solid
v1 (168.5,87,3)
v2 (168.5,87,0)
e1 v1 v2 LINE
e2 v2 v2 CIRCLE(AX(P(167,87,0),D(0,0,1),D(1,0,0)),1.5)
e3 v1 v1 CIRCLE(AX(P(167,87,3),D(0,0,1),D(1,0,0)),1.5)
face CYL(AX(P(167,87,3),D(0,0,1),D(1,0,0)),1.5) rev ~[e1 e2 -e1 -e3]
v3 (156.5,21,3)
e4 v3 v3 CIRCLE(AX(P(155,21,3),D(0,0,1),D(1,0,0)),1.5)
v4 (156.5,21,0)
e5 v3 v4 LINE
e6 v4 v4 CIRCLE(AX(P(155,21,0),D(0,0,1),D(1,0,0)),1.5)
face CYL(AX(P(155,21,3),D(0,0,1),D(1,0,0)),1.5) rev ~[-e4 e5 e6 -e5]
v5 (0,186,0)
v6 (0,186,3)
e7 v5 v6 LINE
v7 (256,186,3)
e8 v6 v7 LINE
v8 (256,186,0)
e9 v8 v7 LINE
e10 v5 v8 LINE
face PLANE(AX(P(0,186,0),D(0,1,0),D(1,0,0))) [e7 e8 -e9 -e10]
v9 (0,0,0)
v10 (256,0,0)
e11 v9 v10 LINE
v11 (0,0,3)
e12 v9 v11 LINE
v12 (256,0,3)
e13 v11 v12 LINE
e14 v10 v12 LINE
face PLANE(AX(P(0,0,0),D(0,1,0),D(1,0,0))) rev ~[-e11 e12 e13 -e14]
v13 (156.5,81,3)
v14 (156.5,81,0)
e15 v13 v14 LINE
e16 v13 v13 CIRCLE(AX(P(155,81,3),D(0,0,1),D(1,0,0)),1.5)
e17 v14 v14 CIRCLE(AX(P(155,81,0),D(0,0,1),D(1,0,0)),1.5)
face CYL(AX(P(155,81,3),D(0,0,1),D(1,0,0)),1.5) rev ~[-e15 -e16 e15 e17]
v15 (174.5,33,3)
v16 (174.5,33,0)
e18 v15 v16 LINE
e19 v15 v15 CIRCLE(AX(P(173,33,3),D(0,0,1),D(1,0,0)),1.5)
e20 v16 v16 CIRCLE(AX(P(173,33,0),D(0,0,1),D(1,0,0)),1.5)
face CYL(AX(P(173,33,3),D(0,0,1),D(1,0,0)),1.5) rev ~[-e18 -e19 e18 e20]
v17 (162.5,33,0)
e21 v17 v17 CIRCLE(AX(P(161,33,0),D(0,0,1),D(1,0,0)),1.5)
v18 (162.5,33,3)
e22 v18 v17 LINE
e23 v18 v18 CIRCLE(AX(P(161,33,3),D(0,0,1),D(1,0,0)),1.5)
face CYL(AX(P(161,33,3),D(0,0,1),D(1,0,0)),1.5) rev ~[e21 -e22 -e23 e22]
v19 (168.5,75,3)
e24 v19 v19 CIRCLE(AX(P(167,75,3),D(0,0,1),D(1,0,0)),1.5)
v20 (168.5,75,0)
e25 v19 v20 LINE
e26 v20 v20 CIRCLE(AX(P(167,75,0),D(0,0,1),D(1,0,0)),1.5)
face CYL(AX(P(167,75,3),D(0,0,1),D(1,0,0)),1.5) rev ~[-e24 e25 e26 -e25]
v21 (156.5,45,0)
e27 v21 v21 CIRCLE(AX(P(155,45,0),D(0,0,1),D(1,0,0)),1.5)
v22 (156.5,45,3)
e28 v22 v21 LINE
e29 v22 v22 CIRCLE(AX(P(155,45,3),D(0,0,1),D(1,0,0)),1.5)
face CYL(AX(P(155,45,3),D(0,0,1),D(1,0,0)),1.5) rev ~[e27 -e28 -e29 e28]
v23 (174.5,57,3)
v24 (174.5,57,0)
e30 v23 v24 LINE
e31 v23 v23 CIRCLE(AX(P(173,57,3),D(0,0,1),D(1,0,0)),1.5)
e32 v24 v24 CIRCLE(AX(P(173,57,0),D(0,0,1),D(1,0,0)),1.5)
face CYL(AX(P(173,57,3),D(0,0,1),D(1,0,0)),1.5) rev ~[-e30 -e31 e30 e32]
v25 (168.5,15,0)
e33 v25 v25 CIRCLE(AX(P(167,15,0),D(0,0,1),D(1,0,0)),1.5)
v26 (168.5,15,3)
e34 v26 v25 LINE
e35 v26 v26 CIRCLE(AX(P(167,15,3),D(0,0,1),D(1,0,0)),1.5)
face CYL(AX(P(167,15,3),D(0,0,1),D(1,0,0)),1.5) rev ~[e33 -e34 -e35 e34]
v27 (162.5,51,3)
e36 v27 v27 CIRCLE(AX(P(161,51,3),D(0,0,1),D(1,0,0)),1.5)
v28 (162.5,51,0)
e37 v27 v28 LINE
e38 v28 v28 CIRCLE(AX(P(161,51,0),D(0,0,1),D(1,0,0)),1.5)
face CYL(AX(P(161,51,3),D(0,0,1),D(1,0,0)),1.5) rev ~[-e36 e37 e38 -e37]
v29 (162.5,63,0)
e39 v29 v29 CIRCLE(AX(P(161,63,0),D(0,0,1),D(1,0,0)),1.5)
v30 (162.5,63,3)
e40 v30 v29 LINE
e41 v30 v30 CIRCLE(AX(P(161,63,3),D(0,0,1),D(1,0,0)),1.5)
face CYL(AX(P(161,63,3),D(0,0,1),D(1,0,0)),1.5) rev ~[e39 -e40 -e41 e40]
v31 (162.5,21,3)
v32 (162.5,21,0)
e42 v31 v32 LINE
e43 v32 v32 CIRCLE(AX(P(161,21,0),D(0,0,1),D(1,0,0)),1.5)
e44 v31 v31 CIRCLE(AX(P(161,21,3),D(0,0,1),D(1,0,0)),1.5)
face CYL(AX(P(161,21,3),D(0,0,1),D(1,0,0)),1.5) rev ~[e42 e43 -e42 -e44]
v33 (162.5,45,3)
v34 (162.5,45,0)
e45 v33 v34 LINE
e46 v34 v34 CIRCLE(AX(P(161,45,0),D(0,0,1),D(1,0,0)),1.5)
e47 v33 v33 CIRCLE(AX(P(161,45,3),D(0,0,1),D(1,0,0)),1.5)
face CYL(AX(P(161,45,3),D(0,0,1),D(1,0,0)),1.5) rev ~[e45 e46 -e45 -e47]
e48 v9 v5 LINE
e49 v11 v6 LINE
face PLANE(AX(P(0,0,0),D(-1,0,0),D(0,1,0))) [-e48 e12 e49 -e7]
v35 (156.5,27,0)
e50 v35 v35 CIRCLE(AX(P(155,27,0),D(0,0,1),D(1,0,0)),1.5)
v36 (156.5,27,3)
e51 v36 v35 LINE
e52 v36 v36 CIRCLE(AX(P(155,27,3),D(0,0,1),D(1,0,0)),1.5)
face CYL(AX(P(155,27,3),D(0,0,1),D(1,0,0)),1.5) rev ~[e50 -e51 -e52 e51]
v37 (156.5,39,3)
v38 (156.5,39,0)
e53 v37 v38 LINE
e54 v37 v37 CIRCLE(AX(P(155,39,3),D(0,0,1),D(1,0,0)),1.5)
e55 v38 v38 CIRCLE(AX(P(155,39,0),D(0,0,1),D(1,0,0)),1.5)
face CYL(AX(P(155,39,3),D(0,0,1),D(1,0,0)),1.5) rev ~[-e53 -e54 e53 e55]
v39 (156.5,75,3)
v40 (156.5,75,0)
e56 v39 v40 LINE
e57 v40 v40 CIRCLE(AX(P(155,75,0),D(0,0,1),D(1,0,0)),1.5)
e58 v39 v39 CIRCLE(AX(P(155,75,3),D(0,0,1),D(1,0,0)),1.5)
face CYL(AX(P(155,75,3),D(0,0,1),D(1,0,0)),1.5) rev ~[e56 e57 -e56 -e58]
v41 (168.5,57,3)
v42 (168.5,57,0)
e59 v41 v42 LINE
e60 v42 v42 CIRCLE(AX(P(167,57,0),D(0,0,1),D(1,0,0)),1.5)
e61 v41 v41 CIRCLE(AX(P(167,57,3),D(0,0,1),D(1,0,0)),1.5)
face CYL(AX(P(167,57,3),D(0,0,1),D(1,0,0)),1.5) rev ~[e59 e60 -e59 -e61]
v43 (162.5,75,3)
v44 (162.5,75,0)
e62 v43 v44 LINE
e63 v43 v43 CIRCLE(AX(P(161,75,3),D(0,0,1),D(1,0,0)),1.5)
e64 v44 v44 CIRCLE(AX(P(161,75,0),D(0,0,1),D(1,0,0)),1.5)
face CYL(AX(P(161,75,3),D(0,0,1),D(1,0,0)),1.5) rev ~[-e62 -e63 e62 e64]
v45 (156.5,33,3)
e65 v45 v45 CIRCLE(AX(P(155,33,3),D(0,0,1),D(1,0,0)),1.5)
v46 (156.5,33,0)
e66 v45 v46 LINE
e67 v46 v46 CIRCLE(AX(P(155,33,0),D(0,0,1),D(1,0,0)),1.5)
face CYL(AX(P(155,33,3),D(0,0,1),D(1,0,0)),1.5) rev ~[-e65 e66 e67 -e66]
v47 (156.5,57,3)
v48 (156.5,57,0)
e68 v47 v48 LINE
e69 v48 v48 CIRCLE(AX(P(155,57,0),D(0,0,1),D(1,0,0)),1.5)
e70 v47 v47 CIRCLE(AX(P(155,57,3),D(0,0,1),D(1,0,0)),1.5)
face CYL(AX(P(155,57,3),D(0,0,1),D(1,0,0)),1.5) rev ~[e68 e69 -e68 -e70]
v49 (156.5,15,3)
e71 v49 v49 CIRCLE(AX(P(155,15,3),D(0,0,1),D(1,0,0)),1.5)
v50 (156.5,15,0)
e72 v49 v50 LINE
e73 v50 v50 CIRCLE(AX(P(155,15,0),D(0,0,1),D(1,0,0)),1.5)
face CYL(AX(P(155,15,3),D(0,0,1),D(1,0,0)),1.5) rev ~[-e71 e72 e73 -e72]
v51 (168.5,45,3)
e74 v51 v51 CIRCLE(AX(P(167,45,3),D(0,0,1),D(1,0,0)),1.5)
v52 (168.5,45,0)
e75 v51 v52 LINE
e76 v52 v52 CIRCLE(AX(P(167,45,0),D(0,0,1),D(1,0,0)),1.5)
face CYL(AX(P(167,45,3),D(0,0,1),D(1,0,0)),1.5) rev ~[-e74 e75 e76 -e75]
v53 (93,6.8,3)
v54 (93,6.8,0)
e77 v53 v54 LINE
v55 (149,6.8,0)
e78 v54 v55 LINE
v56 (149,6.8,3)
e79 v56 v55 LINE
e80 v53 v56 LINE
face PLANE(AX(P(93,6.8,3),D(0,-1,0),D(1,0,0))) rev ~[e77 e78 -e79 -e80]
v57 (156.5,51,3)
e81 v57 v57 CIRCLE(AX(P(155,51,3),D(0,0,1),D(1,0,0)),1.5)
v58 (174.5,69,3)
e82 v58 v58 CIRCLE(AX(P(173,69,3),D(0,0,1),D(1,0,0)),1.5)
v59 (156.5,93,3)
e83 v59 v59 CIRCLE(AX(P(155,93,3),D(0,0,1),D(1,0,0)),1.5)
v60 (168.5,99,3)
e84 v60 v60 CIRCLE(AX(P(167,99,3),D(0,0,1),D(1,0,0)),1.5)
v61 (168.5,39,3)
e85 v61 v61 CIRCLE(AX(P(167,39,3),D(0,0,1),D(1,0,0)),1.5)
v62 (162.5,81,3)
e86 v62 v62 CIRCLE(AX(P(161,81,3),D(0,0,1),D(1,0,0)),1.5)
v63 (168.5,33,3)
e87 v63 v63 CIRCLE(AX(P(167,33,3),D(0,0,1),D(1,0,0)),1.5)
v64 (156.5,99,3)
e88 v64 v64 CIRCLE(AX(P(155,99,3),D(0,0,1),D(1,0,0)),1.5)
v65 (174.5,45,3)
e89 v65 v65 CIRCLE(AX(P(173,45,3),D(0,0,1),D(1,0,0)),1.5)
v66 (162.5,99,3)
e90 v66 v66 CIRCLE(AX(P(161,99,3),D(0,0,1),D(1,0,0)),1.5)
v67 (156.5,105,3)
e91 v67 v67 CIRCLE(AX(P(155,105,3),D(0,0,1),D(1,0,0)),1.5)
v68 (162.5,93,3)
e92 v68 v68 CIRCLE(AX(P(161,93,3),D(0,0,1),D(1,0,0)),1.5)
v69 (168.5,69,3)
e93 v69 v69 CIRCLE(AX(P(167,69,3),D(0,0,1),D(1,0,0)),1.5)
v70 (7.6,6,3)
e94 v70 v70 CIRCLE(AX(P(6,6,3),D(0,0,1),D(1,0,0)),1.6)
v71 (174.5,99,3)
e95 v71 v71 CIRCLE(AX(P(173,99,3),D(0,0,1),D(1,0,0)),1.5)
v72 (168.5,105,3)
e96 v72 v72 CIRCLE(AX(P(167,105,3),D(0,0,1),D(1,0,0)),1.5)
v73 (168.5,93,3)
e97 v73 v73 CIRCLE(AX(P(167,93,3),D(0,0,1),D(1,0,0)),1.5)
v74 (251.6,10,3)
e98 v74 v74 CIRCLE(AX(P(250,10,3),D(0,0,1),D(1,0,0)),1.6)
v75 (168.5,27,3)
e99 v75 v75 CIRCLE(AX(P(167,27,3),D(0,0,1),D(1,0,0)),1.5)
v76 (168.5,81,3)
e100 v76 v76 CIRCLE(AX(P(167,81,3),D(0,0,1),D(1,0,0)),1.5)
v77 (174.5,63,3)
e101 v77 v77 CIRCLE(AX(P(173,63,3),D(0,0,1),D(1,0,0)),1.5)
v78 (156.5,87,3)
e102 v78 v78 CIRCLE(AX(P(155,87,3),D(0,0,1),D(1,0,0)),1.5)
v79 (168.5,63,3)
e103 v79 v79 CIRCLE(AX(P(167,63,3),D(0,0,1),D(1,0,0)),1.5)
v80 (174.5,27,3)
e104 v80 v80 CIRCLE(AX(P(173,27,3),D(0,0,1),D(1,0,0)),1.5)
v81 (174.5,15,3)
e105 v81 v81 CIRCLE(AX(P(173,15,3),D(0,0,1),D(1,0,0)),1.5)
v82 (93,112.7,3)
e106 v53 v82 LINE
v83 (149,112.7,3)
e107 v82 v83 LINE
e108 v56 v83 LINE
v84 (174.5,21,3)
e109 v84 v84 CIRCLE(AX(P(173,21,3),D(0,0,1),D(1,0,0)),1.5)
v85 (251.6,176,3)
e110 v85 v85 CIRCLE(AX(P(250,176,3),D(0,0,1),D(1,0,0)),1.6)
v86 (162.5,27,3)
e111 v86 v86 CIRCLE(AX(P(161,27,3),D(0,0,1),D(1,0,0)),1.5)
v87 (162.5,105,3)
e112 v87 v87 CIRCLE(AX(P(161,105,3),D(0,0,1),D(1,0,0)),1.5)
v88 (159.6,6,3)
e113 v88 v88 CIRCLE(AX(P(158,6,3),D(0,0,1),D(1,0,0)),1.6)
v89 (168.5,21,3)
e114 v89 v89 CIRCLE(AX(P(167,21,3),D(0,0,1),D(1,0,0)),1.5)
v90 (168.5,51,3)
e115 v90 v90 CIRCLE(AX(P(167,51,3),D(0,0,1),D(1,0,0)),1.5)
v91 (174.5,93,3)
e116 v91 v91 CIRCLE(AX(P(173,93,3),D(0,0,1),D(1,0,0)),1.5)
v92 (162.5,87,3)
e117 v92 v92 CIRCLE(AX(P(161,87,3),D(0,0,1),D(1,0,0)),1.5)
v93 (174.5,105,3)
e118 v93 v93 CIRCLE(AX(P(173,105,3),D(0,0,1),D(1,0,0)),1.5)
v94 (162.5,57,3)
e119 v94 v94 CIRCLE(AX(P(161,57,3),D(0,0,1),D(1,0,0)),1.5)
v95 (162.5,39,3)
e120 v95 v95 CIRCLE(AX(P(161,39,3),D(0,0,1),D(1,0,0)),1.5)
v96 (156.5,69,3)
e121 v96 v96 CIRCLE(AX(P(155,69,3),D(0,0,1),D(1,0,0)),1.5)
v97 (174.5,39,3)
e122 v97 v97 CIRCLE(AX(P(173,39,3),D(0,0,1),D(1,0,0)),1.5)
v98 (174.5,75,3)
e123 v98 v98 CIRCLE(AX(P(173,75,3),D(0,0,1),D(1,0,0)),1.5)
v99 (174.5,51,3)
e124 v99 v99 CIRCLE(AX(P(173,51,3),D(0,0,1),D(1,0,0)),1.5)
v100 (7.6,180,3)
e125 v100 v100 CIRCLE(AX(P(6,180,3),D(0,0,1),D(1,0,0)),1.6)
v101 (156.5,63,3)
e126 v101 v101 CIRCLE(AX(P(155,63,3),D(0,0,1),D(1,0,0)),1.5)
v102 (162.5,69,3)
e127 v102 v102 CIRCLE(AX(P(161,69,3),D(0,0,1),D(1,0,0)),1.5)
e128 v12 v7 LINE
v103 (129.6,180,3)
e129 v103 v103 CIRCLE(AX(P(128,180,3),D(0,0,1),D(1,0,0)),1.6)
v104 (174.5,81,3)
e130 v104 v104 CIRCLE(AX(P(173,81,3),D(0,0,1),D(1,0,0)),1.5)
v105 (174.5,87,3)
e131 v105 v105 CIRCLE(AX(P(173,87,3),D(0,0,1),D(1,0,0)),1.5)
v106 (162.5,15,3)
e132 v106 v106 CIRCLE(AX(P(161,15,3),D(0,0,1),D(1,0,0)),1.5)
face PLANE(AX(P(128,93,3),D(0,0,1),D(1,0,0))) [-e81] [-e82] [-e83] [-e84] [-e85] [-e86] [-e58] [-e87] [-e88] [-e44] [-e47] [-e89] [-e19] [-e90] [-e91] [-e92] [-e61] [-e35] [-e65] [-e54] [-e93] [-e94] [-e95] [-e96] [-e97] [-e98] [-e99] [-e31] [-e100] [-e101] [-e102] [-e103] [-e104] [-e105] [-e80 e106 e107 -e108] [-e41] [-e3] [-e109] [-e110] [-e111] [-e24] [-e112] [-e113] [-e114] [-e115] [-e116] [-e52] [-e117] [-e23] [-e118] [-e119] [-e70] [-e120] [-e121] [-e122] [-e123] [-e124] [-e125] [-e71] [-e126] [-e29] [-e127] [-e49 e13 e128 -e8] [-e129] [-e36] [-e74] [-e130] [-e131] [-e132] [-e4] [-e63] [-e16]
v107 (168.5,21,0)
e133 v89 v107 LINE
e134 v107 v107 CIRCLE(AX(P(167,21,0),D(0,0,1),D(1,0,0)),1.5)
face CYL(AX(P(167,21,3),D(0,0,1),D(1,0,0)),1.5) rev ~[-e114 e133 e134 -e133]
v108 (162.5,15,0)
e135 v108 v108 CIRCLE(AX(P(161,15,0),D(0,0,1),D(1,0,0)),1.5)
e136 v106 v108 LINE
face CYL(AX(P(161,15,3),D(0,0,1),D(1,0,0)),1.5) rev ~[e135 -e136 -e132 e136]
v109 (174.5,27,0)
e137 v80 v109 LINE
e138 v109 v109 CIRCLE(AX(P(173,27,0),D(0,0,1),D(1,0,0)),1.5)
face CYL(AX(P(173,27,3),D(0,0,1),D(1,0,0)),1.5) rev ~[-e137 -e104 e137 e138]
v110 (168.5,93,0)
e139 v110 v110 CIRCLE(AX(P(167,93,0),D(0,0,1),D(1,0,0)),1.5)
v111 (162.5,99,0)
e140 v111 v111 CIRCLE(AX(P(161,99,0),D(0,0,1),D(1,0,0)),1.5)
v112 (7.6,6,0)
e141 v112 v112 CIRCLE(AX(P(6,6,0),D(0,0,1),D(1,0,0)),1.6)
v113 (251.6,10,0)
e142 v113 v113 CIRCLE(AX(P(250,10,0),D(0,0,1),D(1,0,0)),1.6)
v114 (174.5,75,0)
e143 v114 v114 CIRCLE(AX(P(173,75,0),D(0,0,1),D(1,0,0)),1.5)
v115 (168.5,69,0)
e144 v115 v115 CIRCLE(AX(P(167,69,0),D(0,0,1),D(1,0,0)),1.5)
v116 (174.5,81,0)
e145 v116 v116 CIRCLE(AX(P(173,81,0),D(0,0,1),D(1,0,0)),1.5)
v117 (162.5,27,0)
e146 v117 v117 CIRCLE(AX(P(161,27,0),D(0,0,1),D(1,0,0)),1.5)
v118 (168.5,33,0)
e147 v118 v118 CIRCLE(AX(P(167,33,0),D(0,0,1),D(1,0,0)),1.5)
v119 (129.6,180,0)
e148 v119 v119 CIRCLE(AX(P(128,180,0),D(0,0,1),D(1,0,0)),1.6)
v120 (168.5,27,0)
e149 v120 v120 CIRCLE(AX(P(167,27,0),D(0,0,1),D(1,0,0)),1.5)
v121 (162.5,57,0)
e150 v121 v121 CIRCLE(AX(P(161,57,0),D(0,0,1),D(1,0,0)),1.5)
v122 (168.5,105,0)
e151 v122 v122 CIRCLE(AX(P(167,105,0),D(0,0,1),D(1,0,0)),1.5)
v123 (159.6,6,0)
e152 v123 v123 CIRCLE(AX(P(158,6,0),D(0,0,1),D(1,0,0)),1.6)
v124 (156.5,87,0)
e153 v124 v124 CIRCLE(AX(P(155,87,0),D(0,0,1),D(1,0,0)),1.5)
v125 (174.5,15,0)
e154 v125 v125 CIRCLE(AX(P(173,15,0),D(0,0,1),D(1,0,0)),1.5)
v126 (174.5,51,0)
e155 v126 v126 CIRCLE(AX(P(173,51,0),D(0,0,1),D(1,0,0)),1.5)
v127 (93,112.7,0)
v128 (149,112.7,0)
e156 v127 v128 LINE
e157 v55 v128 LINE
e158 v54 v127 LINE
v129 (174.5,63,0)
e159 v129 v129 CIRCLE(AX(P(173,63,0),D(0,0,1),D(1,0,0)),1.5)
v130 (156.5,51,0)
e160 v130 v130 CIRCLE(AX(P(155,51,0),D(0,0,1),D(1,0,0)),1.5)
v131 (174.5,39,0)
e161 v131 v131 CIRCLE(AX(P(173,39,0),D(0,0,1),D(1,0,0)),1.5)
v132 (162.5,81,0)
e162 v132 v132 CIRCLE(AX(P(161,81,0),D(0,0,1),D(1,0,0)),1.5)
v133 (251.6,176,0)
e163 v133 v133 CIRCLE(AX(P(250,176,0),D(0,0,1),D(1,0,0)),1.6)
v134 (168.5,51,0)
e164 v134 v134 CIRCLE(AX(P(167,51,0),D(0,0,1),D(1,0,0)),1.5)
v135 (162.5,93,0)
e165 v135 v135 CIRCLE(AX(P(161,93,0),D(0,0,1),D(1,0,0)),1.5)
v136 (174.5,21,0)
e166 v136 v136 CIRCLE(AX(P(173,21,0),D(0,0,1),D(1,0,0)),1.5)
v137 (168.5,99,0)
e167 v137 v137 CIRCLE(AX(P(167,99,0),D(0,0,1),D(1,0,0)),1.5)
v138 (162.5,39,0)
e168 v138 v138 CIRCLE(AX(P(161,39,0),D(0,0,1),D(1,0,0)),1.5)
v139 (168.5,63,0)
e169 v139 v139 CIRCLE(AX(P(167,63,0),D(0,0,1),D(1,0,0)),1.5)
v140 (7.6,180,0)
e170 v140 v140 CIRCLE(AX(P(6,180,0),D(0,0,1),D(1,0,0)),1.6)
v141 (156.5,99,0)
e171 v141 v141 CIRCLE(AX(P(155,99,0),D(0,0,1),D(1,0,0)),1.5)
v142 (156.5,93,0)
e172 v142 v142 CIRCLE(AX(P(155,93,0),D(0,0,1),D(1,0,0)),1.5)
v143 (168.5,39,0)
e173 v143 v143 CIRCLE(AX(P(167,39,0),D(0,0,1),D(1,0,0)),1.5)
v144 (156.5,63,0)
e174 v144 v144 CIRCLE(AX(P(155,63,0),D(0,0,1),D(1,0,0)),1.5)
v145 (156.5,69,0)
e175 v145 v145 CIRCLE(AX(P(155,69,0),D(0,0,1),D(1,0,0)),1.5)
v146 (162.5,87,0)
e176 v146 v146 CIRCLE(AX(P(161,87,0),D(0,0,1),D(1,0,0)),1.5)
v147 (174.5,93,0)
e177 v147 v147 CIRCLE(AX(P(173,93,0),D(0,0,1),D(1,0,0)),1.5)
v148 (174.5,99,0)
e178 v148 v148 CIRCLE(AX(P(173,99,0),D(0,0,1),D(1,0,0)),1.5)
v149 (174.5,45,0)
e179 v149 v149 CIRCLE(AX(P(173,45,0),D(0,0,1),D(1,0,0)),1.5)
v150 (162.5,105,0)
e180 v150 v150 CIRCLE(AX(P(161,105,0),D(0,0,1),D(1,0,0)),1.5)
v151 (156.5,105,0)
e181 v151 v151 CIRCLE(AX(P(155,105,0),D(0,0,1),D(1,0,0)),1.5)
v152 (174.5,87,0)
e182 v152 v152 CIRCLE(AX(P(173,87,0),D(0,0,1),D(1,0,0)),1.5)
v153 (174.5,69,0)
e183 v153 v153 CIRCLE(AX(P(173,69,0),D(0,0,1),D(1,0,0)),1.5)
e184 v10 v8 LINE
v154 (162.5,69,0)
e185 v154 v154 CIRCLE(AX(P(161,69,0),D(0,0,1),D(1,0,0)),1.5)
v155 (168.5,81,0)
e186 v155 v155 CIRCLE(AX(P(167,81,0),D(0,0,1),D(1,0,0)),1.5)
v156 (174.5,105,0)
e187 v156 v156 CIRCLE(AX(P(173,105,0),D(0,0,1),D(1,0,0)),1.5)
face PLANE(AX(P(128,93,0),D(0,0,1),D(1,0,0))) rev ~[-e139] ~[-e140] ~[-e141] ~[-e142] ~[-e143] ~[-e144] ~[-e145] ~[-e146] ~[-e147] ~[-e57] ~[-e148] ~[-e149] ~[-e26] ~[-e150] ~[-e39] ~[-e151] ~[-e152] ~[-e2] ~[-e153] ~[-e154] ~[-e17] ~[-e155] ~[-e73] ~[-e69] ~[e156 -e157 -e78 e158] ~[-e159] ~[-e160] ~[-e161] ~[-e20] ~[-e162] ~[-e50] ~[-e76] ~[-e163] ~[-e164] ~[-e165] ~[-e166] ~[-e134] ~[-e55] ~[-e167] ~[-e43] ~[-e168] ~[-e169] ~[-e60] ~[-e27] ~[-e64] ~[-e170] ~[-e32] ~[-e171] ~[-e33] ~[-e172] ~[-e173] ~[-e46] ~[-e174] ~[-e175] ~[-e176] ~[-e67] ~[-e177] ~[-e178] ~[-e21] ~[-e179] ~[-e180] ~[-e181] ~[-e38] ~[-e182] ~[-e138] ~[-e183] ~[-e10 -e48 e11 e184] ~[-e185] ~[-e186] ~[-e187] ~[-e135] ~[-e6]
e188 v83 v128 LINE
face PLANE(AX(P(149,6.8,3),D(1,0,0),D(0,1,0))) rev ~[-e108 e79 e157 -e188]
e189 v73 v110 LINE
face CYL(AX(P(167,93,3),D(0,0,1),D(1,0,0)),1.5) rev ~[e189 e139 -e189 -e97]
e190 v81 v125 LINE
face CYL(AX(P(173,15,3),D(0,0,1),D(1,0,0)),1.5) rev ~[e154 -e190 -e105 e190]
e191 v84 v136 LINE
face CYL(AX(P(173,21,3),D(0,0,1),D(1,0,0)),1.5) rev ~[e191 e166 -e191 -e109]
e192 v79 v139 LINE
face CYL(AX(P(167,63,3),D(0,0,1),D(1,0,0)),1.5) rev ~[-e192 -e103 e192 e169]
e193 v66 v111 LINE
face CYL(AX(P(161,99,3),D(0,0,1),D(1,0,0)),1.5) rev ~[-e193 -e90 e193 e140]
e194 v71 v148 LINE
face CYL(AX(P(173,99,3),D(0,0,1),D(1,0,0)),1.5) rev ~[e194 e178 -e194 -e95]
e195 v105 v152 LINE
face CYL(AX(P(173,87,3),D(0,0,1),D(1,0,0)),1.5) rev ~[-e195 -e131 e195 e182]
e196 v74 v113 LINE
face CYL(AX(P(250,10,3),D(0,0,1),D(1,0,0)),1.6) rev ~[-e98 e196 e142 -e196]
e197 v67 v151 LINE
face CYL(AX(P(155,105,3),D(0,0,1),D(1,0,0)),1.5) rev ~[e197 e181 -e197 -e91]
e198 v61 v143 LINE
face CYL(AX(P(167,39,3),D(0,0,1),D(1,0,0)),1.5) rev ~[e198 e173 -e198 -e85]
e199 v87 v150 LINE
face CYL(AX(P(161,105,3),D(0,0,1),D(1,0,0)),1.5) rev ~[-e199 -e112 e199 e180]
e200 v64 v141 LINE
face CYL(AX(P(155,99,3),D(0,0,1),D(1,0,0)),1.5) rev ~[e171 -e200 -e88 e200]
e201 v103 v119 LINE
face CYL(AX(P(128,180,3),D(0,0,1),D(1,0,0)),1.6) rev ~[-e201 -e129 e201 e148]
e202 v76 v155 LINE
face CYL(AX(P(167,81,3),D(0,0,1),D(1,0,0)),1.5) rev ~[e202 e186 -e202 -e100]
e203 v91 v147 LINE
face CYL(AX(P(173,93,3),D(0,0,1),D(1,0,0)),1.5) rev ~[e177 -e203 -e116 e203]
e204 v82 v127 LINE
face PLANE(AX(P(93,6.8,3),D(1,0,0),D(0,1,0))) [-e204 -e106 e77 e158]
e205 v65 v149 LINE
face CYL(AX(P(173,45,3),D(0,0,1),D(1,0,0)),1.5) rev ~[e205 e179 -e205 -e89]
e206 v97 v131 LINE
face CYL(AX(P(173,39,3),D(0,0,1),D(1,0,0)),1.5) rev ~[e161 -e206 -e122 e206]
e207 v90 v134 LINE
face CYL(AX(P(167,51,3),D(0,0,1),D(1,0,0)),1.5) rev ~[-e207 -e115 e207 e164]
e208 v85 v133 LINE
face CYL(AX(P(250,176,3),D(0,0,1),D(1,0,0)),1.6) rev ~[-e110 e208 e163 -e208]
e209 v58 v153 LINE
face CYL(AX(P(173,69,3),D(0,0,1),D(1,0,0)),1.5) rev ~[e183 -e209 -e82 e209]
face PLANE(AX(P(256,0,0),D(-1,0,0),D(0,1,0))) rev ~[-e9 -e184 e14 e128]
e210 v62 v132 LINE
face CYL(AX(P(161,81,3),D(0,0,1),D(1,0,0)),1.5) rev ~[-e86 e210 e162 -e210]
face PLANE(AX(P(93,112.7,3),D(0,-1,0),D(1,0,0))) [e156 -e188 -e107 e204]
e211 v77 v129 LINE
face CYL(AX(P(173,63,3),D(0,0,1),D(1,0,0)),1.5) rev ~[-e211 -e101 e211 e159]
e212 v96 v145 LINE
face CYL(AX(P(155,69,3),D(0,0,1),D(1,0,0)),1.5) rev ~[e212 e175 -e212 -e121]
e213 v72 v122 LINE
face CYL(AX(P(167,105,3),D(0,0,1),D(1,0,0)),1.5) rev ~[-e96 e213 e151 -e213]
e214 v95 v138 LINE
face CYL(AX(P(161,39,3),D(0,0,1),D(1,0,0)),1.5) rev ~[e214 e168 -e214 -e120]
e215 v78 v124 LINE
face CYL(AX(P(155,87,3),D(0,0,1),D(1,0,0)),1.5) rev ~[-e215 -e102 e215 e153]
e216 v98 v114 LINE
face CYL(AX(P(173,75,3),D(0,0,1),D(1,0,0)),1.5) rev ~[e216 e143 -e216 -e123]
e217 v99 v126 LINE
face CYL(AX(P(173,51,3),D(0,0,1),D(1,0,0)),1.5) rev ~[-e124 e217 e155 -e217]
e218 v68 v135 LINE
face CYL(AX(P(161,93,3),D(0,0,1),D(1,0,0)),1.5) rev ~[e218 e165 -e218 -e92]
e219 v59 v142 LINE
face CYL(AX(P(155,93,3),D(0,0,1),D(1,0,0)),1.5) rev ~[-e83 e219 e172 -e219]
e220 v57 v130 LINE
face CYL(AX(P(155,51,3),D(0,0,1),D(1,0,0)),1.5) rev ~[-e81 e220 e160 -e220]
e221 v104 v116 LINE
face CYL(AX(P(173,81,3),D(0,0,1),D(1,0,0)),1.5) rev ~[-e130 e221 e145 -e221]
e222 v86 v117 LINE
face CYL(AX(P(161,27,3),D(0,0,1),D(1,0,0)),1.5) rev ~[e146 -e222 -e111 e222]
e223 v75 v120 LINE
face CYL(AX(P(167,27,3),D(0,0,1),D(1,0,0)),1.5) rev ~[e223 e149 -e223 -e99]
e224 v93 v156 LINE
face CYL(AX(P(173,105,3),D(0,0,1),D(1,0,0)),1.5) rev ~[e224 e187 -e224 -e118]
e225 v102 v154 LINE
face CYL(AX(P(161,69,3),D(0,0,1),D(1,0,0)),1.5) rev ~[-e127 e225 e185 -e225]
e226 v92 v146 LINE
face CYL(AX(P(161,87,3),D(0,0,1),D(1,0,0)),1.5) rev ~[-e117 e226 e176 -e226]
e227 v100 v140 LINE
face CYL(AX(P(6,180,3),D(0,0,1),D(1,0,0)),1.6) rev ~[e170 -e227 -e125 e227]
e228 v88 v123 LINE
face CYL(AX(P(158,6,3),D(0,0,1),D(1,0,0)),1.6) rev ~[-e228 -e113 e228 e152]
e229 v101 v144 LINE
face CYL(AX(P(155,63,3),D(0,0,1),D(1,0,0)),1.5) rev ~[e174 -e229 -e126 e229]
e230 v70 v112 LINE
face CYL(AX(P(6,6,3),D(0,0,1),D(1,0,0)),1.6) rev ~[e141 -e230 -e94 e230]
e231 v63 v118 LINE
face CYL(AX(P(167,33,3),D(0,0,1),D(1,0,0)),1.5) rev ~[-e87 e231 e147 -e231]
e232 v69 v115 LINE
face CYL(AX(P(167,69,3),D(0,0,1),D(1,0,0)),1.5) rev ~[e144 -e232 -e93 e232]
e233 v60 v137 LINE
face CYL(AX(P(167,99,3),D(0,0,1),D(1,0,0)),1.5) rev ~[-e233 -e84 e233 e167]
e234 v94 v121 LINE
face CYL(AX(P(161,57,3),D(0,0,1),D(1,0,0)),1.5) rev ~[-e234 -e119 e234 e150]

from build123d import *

# Parameters (mm, degrees)
SKETCH2_W           = 256
SKETCH2_H           = 186
BOSS_EXTRUDE1_DEPTH = 3
SKETCH3_R           = 1.6
CUT_EXTRUDE1_DEPTH  = 4
SKETCH4_W           = 56
SKETCH4_H           = 105.9
CUT_EXTRUDE2_DEPTH  = 4
SKETCH5_R           = 1.5
CUT_EXTRUDE3_DEPTH  = 4


with BuildPart() as part:
    # Sketch2 → Boss-Extrude1 (new body)
    with BuildSketch(Plane.XY):
        with Locations((128, 93)):
            Rectangle(SKETCH2_W, SKETCH2_H)
    extrude(amount=BOSS_EXTRUDE1_DEPTH)

    # Sketch3 → Cut-Extrude1 (cut, through all)
    with BuildSketch(Plane.XY.offset(3)):
        with Locations((6, 180)):
            Circle(SKETCH3_R)
        with Locations((128, 180)):
            Circle(SKETCH3_R)
        with Locations((6, 6)):
            Circle(SKETCH3_R)
        with Locations((250, 176)):
            Circle(SKETCH3_R)
        with Locations((250, 10)):
            Circle(SKETCH3_R)
        with Locations((158, 6)):
            Circle(SKETCH3_R)
    extrude(amount=-CUT_EXTRUDE1_DEPTH, mode=Mode.SUBTRACT)

    # Sketch4 → Cut-Extrude2 (cut, through all)
    with BuildSketch(Plane.XY.offset(3)):
        with Locations((121, 59.75)):
            Rectangle(SKETCH4_W, SKETCH4_H)
    extrude(amount=-CUT_EXTRUDE2_DEPTH, mode=Mode.SUBTRACT)

    # Sketch5 → Cut-Extrude3 (cut, through all)
    with BuildSketch(Plane.XY.offset(3)):
        with Locations((173, 105)):
            Circle(SKETCH5_R)
        with Locations((167, 105)):
            Circle(SKETCH5_R)
        with Locations((161, 105)):
            Circle(SKETCH5_R)
        with Locations((155, 105)):
            Circle(SKETCH5_R)
        with Locations((167, 99)):
            Circle(SKETCH5_R)
        with Locations((161, 99)):
            Circle(SKETCH5_R)
        with Locations((155, 99)):
            Circle(SKETCH5_R)
        with Locations((167, 93)):
            Circle(SKETCH5_R)
        with Locations((161, 93)):
            Circle(SKETCH5_R)
        with Locations((155, 93)):
            Circle(SKETCH5_R)
        with Locations((167, 87)):
            Circle(SKETCH5_R)
        with Locations((161, 87)):
            Circle(SKETCH5_R)
        with Locations((155, 87)):
            Circle(SKETCH5_R)
        with Locations((167, 81)):
            Circle(SKETCH5_R)
        with Locations((161, 81)):
            Circle(SKETCH5_R)
        with Locations((155, 81)):
            Circle(SKETCH5_R)
        with Locations((167, 75)):
            Circle(SKETCH5_R)
        with Locations((161, 75)):
            Circle(SKETCH5_R)
        with Locations((155, 75)):
            Circle(SKETCH5_R)
        with Locations((167, 69)):
            Circle(SKETCH5_R)
        with Locations((161, 69)):
            Circle(SKETCH5_R)
        with Locations((155, 69)):
            Circle(SKETCH5_R)
        with Locations((167, 63)):
            Circle(SKETCH5_R)
        with Locations((161, 63)):
            Circle(SKETCH5_R)
        with Locations((155, 63)):
            Circle(SKETCH5_R)
        with Locations((167, 57)):
            Circle(SKETCH5_R)
        with Locations((161, 57)):
            Circle(SKETCH5_R)
        with Locations((155, 57)):
            Circle(SKETCH5_R)
        with Locations((167, 51)):
            Circle(SKETCH5_R)
        with Locations((161, 51)):
            Circle(SKETCH5_R)
        with Locations((155, 51)):
            Circle(SKETCH5_R)
        with Locations((167, 45)):
            Circle(SKETCH5_R)
        with Locations((161, 45)):
            Circle(SKETCH5_R)
        with Locations((155, 45)):
            Circle(SKETCH5_R)
        with Locations((167, 39)):
            Circle(SKETCH5_R)
        with Locations((161, 39)):
            Circle(SKETCH5_R)
        with Locations((155, 39)):
            Circle(SKETCH5_R)
        with Locations((167, 33)):
            Circle(SKETCH5_R)
        with Locations((161, 33)):
            Circle(SKETCH5_R)
        with Locations((155, 33)):
            Circle(SKETCH5_R)
        with Locations((167, 27)):
            Circle(SKETCH5_R)
        with Locations((161, 27)):
            Circle(SKETCH5_R)
        with Locations((155, 27)):
            Circle(SKETCH5_R)
        with Locations((167, 21)):
            Circle(SKETCH5_R)
        with Locations((161, 21)):
            Circle(SKETCH5_R)
        with Locations((155, 21)):
            Circle(SKETCH5_R)
        with Locations((167, 15)):
            Circle(SKETCH5_R)
        with Locations((161, 15)):
            Circle(SKETCH5_R)
        with Locations((155, 15)):
            Circle(SKETCH5_R)
        with Locations((173, 99)):
            Circle(SKETCH5_R)
        with Locations((173, 93)):
            Circle(SKETCH5_R)
        with Locations((173, 87)):
            Circle(SKETCH5_R)
        with Locations((173, 81)):
            Circle(SKETCH5_R)
        with Locations((173, 75)):
            Circle(SKETCH5_R)
        with Locations((173, 69)):
            Circle(SKETCH5_R)
        with Locations((173, 63)):
            Circle(SKETCH5_R)
        with Locations((173, 57)):
            Circle(SKETCH5_R)
        with Locations((173, 51)):
            Circle(SKETCH5_R)
        with Locations((173, 45)):
            Circle(SKETCH5_R)
        with Locations((173, 39)):
            Circle(SKETCH5_R)
        with Locations((173, 33)):
            Circle(SKETCH5_R)
        with Locations((173, 27)):
            Circle(SKETCH5_R)
        with Locations((173, 21)):
            Circle(SKETCH5_R)
        with Locations((173, 15)):
            Circle(SKETCH5_R)
    extrude(amount=-CUT_EXTRUDE3_DEPTH, mode=Mode.SUBTRACT)


solid = part.part
